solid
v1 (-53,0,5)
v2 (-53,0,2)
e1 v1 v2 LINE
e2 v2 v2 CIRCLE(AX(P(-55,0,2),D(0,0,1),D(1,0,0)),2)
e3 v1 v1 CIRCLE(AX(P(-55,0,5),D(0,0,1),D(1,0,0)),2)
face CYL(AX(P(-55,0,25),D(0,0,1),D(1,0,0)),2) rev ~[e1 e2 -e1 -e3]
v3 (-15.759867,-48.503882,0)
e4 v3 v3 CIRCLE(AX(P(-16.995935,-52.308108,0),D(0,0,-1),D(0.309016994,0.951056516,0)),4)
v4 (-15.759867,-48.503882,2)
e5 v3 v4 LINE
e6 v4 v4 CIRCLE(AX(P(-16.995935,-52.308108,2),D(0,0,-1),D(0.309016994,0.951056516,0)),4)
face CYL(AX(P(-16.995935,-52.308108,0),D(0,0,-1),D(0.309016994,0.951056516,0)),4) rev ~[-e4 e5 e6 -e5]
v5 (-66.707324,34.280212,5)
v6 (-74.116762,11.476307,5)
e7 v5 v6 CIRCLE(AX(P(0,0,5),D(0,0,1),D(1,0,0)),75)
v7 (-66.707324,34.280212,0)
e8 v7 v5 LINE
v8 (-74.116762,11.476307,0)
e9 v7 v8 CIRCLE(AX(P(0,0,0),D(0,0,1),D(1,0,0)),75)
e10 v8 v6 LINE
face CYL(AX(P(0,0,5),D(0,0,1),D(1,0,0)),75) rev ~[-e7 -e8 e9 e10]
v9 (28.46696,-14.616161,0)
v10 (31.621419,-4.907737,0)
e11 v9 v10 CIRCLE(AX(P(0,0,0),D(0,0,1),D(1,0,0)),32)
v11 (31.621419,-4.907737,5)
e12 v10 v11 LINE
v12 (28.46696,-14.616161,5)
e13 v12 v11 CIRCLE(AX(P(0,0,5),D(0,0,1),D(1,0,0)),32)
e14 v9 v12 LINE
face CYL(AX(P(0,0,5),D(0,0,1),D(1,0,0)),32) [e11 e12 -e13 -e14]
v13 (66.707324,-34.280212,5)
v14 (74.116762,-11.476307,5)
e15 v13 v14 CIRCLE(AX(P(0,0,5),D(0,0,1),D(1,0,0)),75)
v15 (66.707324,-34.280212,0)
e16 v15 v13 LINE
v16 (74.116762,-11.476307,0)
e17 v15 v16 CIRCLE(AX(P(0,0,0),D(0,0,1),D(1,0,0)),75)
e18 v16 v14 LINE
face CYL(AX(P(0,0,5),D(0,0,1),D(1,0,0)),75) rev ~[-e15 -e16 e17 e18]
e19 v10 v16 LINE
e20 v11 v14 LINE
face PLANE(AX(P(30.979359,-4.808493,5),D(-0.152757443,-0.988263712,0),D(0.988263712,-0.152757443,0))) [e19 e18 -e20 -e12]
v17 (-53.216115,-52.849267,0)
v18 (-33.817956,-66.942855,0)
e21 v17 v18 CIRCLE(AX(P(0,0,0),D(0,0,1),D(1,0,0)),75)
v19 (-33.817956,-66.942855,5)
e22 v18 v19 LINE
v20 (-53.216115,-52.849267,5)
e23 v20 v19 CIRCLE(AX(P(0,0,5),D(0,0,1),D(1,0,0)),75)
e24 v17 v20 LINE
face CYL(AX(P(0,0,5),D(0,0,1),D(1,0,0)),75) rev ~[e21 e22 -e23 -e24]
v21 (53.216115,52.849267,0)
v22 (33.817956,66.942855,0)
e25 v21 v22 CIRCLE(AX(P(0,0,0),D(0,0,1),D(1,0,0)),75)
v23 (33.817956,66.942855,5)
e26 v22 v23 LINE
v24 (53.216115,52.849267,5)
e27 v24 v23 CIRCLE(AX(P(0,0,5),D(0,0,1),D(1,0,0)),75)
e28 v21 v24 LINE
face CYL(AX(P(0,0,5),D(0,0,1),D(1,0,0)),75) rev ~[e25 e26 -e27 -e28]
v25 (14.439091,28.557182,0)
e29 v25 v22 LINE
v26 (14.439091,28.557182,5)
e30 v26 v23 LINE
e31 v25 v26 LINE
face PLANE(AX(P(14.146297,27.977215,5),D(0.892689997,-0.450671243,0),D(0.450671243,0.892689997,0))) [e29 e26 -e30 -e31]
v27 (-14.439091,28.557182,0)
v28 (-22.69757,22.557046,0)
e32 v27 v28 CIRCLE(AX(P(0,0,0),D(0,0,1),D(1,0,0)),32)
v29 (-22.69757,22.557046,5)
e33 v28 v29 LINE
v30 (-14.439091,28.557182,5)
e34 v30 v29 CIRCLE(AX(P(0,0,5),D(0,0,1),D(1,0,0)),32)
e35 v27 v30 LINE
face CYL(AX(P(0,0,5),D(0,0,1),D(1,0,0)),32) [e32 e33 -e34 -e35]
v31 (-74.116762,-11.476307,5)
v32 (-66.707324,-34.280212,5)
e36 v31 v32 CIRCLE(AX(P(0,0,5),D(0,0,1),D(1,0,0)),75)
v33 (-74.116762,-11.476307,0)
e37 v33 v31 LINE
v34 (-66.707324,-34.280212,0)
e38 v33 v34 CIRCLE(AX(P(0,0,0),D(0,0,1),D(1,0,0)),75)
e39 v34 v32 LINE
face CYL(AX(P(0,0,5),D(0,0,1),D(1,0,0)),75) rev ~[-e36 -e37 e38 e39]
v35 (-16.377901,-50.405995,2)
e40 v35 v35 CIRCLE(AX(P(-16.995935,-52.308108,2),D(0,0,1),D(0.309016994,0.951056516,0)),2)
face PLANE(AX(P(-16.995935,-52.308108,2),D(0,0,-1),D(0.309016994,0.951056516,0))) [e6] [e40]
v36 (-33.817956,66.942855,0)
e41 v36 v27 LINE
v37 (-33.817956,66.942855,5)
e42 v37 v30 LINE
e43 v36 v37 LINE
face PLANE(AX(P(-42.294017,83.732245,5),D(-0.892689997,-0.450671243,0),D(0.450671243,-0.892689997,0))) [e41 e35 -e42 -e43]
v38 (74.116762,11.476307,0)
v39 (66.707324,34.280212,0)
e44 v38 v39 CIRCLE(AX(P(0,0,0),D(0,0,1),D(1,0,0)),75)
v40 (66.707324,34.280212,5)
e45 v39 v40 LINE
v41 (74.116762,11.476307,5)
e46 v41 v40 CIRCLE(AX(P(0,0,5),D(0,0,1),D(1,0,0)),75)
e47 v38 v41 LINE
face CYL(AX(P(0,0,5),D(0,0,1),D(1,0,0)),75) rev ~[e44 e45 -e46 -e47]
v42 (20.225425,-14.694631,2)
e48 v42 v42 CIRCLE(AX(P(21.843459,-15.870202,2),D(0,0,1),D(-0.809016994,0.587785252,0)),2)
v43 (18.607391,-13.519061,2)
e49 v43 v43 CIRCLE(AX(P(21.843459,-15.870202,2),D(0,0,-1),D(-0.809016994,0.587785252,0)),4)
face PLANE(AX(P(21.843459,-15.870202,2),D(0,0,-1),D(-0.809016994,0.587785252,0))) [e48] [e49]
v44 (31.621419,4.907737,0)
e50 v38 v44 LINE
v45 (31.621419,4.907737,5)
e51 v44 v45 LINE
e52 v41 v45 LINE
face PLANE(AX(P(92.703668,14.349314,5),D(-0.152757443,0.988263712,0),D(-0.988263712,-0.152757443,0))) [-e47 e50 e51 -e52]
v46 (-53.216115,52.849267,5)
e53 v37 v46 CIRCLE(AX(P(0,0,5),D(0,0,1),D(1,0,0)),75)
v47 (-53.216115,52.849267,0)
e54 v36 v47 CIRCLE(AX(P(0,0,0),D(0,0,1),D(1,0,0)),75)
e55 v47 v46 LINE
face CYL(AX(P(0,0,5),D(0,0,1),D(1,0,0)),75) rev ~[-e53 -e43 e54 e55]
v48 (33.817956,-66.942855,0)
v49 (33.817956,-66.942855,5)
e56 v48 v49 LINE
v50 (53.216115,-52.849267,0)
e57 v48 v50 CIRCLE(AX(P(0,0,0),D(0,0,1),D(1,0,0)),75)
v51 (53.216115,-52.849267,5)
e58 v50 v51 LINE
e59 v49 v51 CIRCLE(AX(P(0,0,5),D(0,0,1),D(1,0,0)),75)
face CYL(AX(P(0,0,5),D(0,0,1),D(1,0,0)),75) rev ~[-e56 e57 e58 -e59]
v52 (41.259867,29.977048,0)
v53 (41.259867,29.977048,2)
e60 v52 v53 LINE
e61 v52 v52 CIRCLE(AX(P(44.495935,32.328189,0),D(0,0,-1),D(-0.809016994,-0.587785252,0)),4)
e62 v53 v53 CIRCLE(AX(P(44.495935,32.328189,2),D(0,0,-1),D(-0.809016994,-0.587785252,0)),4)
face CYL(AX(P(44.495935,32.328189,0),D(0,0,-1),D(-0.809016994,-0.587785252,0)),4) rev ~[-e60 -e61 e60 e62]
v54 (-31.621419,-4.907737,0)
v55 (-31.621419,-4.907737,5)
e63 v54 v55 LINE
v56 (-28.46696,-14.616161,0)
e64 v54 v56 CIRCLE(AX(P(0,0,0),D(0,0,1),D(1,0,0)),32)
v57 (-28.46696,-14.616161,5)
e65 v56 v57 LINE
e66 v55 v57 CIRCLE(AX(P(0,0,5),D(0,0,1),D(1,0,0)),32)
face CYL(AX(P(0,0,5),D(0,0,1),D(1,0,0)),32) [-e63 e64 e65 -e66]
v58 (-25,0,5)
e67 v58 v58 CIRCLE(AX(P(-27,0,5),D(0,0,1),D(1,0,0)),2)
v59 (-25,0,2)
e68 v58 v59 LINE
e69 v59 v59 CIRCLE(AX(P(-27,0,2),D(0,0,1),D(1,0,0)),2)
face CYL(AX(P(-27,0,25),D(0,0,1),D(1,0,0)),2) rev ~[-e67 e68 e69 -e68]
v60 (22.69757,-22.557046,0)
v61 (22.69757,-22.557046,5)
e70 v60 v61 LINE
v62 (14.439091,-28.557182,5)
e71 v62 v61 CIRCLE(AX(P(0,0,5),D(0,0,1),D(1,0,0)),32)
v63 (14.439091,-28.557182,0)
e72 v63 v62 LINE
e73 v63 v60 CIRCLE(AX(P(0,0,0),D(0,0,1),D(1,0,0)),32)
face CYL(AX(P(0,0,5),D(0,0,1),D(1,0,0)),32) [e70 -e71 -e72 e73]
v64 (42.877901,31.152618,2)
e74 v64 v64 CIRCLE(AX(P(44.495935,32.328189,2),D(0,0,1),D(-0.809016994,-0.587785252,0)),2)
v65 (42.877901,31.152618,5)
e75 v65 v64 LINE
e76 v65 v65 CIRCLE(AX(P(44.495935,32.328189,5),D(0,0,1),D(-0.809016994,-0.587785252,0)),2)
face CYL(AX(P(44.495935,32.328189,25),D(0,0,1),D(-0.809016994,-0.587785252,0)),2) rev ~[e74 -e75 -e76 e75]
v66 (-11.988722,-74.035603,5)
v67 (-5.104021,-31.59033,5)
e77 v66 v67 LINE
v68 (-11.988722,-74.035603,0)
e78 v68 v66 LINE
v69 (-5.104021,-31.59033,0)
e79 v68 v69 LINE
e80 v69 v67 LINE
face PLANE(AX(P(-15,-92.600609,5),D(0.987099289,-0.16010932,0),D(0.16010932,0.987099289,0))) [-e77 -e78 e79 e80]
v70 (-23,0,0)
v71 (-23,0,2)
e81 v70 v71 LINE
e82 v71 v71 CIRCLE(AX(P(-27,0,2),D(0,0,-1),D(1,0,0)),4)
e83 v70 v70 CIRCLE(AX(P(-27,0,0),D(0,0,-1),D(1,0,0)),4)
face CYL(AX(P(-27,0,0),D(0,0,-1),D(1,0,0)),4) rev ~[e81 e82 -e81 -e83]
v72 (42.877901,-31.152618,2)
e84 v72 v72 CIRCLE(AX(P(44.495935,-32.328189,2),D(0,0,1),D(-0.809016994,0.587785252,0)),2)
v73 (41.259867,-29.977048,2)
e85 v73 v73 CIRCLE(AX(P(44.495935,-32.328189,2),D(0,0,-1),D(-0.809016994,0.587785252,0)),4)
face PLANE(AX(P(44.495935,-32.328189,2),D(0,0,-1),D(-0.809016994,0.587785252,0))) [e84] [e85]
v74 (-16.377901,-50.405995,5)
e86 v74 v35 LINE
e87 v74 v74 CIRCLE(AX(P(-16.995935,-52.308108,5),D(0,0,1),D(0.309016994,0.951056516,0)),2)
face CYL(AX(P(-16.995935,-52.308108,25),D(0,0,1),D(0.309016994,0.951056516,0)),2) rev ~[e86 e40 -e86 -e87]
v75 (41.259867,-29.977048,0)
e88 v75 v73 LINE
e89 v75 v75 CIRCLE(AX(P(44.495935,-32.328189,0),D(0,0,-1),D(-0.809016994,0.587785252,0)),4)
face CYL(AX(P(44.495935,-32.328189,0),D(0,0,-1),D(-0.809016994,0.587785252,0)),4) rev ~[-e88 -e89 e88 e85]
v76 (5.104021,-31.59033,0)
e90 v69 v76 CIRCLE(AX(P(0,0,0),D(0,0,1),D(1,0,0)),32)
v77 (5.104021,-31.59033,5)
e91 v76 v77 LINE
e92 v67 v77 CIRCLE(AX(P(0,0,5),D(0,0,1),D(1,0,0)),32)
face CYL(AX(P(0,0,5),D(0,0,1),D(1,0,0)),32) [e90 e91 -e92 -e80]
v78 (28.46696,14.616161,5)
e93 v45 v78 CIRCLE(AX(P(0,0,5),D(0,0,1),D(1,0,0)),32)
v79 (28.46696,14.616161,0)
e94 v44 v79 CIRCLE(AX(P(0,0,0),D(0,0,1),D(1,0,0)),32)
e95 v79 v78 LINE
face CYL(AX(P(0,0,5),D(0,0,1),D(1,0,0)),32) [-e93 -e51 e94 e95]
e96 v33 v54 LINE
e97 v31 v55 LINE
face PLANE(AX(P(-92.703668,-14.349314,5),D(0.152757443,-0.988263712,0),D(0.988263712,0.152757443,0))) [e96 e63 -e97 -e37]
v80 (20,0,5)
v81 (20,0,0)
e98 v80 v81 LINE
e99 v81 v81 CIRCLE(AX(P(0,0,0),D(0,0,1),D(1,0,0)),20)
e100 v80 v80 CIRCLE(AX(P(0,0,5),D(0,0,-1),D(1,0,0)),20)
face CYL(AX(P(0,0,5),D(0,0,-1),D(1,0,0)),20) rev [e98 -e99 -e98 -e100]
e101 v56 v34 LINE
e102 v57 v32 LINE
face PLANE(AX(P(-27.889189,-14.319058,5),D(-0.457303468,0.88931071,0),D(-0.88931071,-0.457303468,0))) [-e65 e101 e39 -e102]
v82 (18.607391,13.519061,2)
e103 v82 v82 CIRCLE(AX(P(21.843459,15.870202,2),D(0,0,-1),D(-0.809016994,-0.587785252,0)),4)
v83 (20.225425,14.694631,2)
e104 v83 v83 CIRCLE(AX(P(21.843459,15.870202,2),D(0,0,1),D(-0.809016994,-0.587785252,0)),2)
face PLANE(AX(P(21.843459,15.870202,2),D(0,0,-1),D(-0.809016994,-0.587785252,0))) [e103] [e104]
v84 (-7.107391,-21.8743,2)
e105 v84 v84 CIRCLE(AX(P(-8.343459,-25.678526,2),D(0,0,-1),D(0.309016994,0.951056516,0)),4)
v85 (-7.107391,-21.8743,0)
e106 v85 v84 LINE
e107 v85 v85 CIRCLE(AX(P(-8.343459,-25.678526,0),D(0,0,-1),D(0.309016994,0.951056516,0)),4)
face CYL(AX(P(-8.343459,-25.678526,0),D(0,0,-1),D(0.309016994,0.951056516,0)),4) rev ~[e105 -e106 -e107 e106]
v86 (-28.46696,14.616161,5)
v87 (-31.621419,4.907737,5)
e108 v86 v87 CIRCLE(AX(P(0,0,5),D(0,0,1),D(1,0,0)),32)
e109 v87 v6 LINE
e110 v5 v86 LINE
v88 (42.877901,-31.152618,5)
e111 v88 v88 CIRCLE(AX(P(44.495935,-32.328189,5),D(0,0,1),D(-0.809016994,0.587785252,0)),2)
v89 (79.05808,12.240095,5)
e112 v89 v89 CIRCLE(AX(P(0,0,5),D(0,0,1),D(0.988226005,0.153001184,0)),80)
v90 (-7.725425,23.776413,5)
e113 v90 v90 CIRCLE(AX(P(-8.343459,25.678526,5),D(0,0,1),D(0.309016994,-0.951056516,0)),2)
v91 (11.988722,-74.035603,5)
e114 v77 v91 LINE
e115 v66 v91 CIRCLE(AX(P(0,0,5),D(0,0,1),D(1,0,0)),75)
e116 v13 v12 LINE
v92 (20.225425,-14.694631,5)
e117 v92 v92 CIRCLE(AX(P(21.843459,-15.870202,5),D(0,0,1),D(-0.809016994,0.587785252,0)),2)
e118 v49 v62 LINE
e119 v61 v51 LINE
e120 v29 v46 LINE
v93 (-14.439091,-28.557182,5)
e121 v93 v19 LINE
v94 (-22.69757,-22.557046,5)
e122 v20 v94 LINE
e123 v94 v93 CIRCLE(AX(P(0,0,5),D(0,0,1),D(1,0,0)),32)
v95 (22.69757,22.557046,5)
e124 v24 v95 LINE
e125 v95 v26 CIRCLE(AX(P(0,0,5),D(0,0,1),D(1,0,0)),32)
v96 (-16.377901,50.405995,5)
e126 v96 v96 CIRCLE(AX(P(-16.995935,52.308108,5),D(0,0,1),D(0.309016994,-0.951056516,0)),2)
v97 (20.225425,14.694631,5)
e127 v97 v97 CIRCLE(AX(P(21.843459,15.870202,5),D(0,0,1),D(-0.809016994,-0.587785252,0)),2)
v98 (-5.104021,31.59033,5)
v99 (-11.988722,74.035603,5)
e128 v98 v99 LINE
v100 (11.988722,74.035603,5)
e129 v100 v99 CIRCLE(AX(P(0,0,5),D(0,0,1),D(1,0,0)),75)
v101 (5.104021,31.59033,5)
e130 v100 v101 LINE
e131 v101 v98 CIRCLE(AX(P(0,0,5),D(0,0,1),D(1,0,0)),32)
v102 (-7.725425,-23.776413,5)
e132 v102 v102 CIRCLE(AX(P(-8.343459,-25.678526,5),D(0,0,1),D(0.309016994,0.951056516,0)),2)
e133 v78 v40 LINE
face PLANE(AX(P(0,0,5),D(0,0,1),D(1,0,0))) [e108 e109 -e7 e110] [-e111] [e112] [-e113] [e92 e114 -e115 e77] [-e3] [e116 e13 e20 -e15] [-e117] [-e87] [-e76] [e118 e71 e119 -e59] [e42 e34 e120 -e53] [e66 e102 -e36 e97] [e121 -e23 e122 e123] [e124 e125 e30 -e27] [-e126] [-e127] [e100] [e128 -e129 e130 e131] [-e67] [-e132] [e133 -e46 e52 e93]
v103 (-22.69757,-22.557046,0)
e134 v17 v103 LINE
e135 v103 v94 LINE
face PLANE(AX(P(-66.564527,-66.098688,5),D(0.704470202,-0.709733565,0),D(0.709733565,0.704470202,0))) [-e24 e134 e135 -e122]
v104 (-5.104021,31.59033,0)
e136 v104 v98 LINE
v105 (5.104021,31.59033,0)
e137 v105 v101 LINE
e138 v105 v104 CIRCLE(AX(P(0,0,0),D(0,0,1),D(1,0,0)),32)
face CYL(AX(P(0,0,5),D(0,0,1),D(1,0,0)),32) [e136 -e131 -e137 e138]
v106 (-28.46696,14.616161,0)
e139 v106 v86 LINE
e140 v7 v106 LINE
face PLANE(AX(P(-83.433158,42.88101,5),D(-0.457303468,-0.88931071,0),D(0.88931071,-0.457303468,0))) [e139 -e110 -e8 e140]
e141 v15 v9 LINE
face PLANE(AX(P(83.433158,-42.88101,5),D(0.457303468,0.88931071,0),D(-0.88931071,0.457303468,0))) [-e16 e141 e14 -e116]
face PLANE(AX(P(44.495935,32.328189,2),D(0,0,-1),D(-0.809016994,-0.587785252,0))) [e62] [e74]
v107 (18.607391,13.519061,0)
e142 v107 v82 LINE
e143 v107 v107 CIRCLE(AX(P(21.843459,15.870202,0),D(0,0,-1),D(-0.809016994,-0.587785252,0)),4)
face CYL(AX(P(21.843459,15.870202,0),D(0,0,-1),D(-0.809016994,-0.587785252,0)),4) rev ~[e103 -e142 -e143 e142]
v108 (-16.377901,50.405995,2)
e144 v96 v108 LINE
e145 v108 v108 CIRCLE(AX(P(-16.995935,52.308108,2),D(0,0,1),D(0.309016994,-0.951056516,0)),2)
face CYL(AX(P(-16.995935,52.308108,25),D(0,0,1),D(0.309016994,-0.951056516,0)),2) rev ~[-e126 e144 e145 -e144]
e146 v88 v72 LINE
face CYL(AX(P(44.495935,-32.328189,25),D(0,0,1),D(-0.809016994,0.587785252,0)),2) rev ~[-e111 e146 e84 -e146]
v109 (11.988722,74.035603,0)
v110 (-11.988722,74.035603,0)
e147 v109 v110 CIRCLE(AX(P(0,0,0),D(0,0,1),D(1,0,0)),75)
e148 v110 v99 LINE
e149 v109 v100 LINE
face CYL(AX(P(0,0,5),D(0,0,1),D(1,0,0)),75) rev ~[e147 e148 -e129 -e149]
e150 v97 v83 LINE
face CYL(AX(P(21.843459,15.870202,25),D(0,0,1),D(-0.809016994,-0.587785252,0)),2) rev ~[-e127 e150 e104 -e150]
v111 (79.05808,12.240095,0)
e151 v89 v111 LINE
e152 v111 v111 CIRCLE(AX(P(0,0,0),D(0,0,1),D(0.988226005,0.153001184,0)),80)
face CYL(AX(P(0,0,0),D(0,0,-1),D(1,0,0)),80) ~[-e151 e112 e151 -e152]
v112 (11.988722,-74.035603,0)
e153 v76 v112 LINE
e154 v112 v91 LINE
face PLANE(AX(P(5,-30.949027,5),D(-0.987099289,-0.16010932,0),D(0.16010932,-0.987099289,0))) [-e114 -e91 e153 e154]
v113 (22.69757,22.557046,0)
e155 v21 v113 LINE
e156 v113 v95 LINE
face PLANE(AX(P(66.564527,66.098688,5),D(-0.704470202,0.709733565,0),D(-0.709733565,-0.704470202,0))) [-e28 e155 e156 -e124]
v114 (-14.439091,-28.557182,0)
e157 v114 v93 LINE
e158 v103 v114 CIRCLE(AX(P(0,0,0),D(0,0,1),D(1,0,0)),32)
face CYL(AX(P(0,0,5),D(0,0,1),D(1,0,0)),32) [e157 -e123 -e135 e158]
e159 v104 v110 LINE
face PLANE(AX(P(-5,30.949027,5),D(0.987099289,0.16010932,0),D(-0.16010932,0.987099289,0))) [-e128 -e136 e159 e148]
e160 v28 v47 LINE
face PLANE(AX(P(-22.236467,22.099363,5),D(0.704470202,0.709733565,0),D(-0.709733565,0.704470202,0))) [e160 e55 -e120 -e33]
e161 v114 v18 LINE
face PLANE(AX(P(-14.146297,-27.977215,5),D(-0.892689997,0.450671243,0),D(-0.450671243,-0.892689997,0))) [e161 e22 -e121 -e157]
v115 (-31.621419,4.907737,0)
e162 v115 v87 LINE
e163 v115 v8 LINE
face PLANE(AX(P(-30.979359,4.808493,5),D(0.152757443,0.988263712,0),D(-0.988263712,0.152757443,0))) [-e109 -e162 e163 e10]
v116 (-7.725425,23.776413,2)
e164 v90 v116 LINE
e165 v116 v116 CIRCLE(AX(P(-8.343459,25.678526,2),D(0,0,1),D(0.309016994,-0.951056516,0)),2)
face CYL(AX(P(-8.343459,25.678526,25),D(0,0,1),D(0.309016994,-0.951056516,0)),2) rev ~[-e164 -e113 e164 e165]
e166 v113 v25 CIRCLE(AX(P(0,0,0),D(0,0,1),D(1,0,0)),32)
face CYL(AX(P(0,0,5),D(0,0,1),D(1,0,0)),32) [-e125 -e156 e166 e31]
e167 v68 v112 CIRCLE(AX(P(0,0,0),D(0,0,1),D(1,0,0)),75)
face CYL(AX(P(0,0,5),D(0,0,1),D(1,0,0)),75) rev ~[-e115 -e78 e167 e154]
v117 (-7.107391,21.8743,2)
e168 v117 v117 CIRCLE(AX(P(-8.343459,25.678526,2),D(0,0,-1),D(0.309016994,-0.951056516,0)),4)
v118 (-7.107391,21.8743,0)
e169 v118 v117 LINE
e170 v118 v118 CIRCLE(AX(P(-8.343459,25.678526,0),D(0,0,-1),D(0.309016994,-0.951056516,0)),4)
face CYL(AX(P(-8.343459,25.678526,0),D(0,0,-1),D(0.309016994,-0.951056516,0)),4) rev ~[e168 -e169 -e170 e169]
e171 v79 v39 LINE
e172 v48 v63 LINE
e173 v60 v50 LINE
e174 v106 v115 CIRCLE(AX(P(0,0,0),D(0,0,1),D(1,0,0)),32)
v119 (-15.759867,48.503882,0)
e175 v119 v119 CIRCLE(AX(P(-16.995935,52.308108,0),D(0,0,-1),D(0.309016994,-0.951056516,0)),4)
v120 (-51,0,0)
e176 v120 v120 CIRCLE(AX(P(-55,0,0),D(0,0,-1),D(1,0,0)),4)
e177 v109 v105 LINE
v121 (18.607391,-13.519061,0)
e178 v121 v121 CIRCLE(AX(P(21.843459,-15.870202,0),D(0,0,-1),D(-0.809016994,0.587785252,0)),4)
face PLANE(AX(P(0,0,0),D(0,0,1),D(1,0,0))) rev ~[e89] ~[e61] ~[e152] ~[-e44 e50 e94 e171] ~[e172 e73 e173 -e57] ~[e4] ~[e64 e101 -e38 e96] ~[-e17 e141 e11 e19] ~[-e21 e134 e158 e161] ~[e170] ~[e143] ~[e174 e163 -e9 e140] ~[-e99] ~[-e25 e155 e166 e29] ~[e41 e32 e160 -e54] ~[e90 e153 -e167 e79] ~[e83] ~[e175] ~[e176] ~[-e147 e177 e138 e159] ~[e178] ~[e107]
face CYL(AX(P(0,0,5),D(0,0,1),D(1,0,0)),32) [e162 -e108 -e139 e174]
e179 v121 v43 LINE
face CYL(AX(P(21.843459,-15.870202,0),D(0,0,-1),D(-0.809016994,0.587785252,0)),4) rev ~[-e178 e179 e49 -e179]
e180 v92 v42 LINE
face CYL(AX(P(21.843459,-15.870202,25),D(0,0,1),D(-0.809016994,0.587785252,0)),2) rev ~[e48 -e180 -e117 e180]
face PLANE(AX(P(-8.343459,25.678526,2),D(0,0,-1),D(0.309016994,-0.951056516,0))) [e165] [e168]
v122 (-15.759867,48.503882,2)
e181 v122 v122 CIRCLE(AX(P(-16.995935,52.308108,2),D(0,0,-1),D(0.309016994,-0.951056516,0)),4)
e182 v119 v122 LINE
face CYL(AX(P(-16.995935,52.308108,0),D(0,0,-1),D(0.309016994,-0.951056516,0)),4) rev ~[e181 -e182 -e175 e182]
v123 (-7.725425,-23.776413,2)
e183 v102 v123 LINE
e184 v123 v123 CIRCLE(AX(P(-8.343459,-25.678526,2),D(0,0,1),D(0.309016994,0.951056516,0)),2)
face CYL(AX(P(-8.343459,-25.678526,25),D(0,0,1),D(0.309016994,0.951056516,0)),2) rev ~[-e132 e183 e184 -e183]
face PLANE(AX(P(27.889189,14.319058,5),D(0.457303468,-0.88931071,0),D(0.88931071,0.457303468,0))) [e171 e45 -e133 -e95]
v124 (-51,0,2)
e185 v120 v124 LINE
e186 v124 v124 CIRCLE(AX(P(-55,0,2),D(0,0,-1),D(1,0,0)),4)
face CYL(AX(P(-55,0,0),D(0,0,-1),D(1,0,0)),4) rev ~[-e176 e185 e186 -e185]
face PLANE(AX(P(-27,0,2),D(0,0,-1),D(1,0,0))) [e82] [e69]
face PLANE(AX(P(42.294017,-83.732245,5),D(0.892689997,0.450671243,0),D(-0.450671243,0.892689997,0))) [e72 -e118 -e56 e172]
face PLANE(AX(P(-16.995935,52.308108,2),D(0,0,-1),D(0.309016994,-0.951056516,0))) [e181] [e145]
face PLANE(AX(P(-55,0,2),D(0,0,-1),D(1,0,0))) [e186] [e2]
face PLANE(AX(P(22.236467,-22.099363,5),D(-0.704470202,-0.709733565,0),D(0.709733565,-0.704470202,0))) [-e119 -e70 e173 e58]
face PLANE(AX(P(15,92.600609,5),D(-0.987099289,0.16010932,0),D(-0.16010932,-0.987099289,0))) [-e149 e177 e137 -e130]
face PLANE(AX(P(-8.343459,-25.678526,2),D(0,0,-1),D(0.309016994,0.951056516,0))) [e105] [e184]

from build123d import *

# Parameters (mm, degrees)
SKETCH013_R           = 115.500293
SKETCH013_R_2         = 80
PAD007_DEPTH          = 7.5
SKETCH012_W           = 210.232956
SKETCH012_H           = 209.330689
PAD006_DEPTH          = 25
SKETCH_R              = 100
SKETCH_R_2            = 20
PAD_DEPTH             = 5
POCKET_DEPTH          = 570.774806
POLARPATTERN_COUNT    = 10
SKETCH002_R           = 100
SKETCH002_R_2         = 91.942135
PAD001_DEPTH          = 2
PAD001_DEPTH_BACK     = -5
SKETCH006_R           = 32
SKETCH006_R_2         = 20
PAD003_DEPTH          = 5
SKETCH007_R           = 25
SKETCH007_R_2         = 20
PAD004_DEPTH          = 20
PAD005_DEPTH          = 20
POLARPATTERN002_COUNT = 5
SKETCH004_R           = 60
SKETCH004_R_2         = 50
PAD002_DEPTH          = 20
POCKET001_DEPTH       = 20
POLARPATTERN001_COUNT = 10
SKETCH009_R           = 2
POCKET002_DEPTH       = 592.891835
POLARPATTERN003_COUNT = 5
SKETCH010_R           = 4
POCKET003_DEPTH       = 2
POLARPATTERN004_COUNT = 5
SKETCH011_R           = 0.8
POCKET004_DEPTH       = 23
SKETCH014_R           = 80
SKETCH014_R_2         = 75
PAD008_DEPTH          = 5


with BuildPart() as pad007:
    # Sketch013 → Pad007 (new body, symmetric)
    with BuildSketch(Plane.XY):
        Circle(SKETCH013_R)
        Circle(SKETCH013_R_2, mode=Mode.SUBTRACT)
    extrude(amount=PAD007_DEPTH, both=True)


with BuildPart() as pad006:
    # Sketch012 → Pad006 (new body)
    with BuildSketch(Plane.XY.offset(5)):
        with Locations((0, -1.353431)):
            Rectangle(SKETCH012_W, SKETCH012_H)
    extrude(amount=PAD006_DEPTH)


with BuildPart() as polarpattern002:
    # Sketch → Pad (new body)
    with BuildSketch(Plane.XY):
        Circle(SKETCH_R)
        Circle(SKETCH_R_2, mode=Mode.SUBTRACT)
    extrude(amount=PAD_DEPTH)

    # Sketch001 → Pocket (cut, through all)
    with BuildSketch(Plane.XY.offset(5)):
        Polygon((-15, 92.600609), (15, 92.600609), (5, 30.949027), (-5, 30.949027), align=None)
    pocket = extrude(amount=-POCKET_DEPTH, mode=Mode.SUBTRACT)

    # PolarPattern: Pocket ×10 about axis
    polarpattern_axis = Axis((0, 0, 5), (0, 0, 1))
    for i in range(1, POLARPATTERN_COUNT):
        add(pocket.rotate(polarpattern_axis, i * 360 / POLARPATTERN_COUNT), mode=Mode.SUBTRACT)

    # Sketch002 → Pad001 (new body, two sides)
    with BuildSketch(Plane.XY.offset(5)) as pad001_sk:
        Circle(SKETCH002_R)
        Circle(SKETCH002_R_2, mode=Mode.SUBTRACT)
    extrude(amount=-PAD001_DEPTH)
    extrude(pad001_sk.sketch, amount=-PAD001_DEPTH_BACK)

    # Sketch006 → Pad003 (new body)
    with BuildSketch(Plane.XY.offset(5)):
        Circle(SKETCH006_R)
        Circle(SKETCH006_R_2, mode=Mode.SUBTRACT)
    extrude(amount=-PAD003_DEPTH)

    # Sketch007 → Pad004 (new body)
    with BuildSketch(Plane.XY.offset(5)):
        Circle(SKETCH007_R)
        Circle(SKETCH007_R_2, mode=Mode.SUBTRACT)
    extrude(amount=PAD004_DEPTH)

    # Sketch008 → Pad005 (new body)
    with BuildSketch(Plane.XY.offset(5)):
        Polygon((-31.540556, 4.944839), (-31.540556, -4.944839), (-23.570738, -4.027653), (-23.570738, 4.027653), align=None)
    pad005 = extrude(amount=PAD005_DEPTH)

    # PolarPattern002: Pad005 ×5 about axis
    polarpattern002_axis = Axis((0, 0, 5), (0, 0, 1))
    for i in range(1, POLARPATTERN002_COUNT):
        add(pad005.rotate(polarpattern002_axis, i * 360 / POLARPATTERN002_COUNT))


with BuildPart() as pad008:
    # Sketch004 → Pad002 (new body)
    with BuildSketch(Plane.XY.offset(5)):
        Circle(SKETCH004_R)
        Circle(SKETCH004_R_2, mode=Mode.SUBTRACT)
    extrude(amount=PAD002_DEPTH)

    # Sketch005 → Pocket001 (cut)
    with BuildSketch(Plane.XY.offset(25)):
        Polygon((-10.833439, 67.068352), (-7.538386, 47.120113), (7.581675, 47.120113), (10.720038, 66.055313), align=None)
    pocket001 = extrude(amount=-POCKET001_DEPTH, mode=Mode.SUBTRACT)

    # PolarPattern001: Pocket001 ×10 about axis
    polarpattern001_axis = Axis((0, 0, 25), (0, 0, 1))
    for i in range(1, POLARPATTERN001_COUNT):
        add(pocket001.rotate(polarpattern001_axis, i * 360 / POLARPATTERN001_COUNT), mode=Mode.SUBTRACT)

    # Fusion: union PolarPattern002
    add(polarpattern002.part)

    # Sketch009 → Pocket002 (cut, through all)
    with BuildSketch(Plane.XY.offset(25)):
        with Locations((-55, 0)):
            Circle(SKETCH009_R)
        with Locations((-27, 0)):
            Circle(SKETCH009_R)
    pocket002 = extrude(amount=-POCKET002_DEPTH, mode=Mode.SUBTRACT)

    # PolarPattern003: Pocket002 ×5 about axis
    polarpattern003_axis = Axis((0, 0, 25), (0, 0, 1))
    for i in range(1, POLARPATTERN003_COUNT):
        add(pocket002.rotate(polarpattern003_axis, i * 360 / POLARPATTERN003_COUNT), mode=Mode.SUBTRACT)

    # Sketch010 → Pocket003 (cut)
    with BuildSketch(Plane(origin=(0, 0, 0), x_dir=(1, 0, 0), z_dir=(0, 0, -1))):
        with Locations((-55, 0)):
            Circle(SKETCH010_R)
        with Locations((-27, 0)):
            Circle(SKETCH010_R)
    pocket003 = extrude(amount=-POCKET003_DEPTH, mode=Mode.SUBTRACT)

    # PolarPattern004: Pocket003 ×5 about axis
    polarpattern004_axis = Axis((0, 0, 0), (0, 0, -1))
    for i in range(1, POLARPATTERN004_COUNT):
        add(pocket003.rotate(polarpattern004_axis, i * 360 / POLARPATTERN004_COUNT), mode=Mode.SUBTRACT)

    # Sketch011 → Pocket004 (cut)
    with BuildSketch(Plane(origin=(1.280519, 0.259015, 0), x_dir=(-0.198259, 0.98015, 0), z_dir=(0.98015, 0.198259, 0))):
        with Locations((-56.007513, 9.826002)):
            Circle(SKETCH011_R)
    extrude(amount=-POCKET004_DEPTH, mode=Mode.SUBTRACT)

    # Cut: cut Pad006
    add(pad006.part, mode=Mode.SUBTRACT)

    # Cut001: cut Pad007
    add(pad007.part, mode=Mode.SUBTRACT)

    # Sketch014 → Pad008 (new body)
    with BuildSketch(Plane.XY.offset(5)):
        Circle(SKETCH014_R)
        Circle(SKETCH014_R_2, mode=Mode.SUBTRACT)
    extrude(amount=-PAD008_DEPTH)


solid = pad008.part
